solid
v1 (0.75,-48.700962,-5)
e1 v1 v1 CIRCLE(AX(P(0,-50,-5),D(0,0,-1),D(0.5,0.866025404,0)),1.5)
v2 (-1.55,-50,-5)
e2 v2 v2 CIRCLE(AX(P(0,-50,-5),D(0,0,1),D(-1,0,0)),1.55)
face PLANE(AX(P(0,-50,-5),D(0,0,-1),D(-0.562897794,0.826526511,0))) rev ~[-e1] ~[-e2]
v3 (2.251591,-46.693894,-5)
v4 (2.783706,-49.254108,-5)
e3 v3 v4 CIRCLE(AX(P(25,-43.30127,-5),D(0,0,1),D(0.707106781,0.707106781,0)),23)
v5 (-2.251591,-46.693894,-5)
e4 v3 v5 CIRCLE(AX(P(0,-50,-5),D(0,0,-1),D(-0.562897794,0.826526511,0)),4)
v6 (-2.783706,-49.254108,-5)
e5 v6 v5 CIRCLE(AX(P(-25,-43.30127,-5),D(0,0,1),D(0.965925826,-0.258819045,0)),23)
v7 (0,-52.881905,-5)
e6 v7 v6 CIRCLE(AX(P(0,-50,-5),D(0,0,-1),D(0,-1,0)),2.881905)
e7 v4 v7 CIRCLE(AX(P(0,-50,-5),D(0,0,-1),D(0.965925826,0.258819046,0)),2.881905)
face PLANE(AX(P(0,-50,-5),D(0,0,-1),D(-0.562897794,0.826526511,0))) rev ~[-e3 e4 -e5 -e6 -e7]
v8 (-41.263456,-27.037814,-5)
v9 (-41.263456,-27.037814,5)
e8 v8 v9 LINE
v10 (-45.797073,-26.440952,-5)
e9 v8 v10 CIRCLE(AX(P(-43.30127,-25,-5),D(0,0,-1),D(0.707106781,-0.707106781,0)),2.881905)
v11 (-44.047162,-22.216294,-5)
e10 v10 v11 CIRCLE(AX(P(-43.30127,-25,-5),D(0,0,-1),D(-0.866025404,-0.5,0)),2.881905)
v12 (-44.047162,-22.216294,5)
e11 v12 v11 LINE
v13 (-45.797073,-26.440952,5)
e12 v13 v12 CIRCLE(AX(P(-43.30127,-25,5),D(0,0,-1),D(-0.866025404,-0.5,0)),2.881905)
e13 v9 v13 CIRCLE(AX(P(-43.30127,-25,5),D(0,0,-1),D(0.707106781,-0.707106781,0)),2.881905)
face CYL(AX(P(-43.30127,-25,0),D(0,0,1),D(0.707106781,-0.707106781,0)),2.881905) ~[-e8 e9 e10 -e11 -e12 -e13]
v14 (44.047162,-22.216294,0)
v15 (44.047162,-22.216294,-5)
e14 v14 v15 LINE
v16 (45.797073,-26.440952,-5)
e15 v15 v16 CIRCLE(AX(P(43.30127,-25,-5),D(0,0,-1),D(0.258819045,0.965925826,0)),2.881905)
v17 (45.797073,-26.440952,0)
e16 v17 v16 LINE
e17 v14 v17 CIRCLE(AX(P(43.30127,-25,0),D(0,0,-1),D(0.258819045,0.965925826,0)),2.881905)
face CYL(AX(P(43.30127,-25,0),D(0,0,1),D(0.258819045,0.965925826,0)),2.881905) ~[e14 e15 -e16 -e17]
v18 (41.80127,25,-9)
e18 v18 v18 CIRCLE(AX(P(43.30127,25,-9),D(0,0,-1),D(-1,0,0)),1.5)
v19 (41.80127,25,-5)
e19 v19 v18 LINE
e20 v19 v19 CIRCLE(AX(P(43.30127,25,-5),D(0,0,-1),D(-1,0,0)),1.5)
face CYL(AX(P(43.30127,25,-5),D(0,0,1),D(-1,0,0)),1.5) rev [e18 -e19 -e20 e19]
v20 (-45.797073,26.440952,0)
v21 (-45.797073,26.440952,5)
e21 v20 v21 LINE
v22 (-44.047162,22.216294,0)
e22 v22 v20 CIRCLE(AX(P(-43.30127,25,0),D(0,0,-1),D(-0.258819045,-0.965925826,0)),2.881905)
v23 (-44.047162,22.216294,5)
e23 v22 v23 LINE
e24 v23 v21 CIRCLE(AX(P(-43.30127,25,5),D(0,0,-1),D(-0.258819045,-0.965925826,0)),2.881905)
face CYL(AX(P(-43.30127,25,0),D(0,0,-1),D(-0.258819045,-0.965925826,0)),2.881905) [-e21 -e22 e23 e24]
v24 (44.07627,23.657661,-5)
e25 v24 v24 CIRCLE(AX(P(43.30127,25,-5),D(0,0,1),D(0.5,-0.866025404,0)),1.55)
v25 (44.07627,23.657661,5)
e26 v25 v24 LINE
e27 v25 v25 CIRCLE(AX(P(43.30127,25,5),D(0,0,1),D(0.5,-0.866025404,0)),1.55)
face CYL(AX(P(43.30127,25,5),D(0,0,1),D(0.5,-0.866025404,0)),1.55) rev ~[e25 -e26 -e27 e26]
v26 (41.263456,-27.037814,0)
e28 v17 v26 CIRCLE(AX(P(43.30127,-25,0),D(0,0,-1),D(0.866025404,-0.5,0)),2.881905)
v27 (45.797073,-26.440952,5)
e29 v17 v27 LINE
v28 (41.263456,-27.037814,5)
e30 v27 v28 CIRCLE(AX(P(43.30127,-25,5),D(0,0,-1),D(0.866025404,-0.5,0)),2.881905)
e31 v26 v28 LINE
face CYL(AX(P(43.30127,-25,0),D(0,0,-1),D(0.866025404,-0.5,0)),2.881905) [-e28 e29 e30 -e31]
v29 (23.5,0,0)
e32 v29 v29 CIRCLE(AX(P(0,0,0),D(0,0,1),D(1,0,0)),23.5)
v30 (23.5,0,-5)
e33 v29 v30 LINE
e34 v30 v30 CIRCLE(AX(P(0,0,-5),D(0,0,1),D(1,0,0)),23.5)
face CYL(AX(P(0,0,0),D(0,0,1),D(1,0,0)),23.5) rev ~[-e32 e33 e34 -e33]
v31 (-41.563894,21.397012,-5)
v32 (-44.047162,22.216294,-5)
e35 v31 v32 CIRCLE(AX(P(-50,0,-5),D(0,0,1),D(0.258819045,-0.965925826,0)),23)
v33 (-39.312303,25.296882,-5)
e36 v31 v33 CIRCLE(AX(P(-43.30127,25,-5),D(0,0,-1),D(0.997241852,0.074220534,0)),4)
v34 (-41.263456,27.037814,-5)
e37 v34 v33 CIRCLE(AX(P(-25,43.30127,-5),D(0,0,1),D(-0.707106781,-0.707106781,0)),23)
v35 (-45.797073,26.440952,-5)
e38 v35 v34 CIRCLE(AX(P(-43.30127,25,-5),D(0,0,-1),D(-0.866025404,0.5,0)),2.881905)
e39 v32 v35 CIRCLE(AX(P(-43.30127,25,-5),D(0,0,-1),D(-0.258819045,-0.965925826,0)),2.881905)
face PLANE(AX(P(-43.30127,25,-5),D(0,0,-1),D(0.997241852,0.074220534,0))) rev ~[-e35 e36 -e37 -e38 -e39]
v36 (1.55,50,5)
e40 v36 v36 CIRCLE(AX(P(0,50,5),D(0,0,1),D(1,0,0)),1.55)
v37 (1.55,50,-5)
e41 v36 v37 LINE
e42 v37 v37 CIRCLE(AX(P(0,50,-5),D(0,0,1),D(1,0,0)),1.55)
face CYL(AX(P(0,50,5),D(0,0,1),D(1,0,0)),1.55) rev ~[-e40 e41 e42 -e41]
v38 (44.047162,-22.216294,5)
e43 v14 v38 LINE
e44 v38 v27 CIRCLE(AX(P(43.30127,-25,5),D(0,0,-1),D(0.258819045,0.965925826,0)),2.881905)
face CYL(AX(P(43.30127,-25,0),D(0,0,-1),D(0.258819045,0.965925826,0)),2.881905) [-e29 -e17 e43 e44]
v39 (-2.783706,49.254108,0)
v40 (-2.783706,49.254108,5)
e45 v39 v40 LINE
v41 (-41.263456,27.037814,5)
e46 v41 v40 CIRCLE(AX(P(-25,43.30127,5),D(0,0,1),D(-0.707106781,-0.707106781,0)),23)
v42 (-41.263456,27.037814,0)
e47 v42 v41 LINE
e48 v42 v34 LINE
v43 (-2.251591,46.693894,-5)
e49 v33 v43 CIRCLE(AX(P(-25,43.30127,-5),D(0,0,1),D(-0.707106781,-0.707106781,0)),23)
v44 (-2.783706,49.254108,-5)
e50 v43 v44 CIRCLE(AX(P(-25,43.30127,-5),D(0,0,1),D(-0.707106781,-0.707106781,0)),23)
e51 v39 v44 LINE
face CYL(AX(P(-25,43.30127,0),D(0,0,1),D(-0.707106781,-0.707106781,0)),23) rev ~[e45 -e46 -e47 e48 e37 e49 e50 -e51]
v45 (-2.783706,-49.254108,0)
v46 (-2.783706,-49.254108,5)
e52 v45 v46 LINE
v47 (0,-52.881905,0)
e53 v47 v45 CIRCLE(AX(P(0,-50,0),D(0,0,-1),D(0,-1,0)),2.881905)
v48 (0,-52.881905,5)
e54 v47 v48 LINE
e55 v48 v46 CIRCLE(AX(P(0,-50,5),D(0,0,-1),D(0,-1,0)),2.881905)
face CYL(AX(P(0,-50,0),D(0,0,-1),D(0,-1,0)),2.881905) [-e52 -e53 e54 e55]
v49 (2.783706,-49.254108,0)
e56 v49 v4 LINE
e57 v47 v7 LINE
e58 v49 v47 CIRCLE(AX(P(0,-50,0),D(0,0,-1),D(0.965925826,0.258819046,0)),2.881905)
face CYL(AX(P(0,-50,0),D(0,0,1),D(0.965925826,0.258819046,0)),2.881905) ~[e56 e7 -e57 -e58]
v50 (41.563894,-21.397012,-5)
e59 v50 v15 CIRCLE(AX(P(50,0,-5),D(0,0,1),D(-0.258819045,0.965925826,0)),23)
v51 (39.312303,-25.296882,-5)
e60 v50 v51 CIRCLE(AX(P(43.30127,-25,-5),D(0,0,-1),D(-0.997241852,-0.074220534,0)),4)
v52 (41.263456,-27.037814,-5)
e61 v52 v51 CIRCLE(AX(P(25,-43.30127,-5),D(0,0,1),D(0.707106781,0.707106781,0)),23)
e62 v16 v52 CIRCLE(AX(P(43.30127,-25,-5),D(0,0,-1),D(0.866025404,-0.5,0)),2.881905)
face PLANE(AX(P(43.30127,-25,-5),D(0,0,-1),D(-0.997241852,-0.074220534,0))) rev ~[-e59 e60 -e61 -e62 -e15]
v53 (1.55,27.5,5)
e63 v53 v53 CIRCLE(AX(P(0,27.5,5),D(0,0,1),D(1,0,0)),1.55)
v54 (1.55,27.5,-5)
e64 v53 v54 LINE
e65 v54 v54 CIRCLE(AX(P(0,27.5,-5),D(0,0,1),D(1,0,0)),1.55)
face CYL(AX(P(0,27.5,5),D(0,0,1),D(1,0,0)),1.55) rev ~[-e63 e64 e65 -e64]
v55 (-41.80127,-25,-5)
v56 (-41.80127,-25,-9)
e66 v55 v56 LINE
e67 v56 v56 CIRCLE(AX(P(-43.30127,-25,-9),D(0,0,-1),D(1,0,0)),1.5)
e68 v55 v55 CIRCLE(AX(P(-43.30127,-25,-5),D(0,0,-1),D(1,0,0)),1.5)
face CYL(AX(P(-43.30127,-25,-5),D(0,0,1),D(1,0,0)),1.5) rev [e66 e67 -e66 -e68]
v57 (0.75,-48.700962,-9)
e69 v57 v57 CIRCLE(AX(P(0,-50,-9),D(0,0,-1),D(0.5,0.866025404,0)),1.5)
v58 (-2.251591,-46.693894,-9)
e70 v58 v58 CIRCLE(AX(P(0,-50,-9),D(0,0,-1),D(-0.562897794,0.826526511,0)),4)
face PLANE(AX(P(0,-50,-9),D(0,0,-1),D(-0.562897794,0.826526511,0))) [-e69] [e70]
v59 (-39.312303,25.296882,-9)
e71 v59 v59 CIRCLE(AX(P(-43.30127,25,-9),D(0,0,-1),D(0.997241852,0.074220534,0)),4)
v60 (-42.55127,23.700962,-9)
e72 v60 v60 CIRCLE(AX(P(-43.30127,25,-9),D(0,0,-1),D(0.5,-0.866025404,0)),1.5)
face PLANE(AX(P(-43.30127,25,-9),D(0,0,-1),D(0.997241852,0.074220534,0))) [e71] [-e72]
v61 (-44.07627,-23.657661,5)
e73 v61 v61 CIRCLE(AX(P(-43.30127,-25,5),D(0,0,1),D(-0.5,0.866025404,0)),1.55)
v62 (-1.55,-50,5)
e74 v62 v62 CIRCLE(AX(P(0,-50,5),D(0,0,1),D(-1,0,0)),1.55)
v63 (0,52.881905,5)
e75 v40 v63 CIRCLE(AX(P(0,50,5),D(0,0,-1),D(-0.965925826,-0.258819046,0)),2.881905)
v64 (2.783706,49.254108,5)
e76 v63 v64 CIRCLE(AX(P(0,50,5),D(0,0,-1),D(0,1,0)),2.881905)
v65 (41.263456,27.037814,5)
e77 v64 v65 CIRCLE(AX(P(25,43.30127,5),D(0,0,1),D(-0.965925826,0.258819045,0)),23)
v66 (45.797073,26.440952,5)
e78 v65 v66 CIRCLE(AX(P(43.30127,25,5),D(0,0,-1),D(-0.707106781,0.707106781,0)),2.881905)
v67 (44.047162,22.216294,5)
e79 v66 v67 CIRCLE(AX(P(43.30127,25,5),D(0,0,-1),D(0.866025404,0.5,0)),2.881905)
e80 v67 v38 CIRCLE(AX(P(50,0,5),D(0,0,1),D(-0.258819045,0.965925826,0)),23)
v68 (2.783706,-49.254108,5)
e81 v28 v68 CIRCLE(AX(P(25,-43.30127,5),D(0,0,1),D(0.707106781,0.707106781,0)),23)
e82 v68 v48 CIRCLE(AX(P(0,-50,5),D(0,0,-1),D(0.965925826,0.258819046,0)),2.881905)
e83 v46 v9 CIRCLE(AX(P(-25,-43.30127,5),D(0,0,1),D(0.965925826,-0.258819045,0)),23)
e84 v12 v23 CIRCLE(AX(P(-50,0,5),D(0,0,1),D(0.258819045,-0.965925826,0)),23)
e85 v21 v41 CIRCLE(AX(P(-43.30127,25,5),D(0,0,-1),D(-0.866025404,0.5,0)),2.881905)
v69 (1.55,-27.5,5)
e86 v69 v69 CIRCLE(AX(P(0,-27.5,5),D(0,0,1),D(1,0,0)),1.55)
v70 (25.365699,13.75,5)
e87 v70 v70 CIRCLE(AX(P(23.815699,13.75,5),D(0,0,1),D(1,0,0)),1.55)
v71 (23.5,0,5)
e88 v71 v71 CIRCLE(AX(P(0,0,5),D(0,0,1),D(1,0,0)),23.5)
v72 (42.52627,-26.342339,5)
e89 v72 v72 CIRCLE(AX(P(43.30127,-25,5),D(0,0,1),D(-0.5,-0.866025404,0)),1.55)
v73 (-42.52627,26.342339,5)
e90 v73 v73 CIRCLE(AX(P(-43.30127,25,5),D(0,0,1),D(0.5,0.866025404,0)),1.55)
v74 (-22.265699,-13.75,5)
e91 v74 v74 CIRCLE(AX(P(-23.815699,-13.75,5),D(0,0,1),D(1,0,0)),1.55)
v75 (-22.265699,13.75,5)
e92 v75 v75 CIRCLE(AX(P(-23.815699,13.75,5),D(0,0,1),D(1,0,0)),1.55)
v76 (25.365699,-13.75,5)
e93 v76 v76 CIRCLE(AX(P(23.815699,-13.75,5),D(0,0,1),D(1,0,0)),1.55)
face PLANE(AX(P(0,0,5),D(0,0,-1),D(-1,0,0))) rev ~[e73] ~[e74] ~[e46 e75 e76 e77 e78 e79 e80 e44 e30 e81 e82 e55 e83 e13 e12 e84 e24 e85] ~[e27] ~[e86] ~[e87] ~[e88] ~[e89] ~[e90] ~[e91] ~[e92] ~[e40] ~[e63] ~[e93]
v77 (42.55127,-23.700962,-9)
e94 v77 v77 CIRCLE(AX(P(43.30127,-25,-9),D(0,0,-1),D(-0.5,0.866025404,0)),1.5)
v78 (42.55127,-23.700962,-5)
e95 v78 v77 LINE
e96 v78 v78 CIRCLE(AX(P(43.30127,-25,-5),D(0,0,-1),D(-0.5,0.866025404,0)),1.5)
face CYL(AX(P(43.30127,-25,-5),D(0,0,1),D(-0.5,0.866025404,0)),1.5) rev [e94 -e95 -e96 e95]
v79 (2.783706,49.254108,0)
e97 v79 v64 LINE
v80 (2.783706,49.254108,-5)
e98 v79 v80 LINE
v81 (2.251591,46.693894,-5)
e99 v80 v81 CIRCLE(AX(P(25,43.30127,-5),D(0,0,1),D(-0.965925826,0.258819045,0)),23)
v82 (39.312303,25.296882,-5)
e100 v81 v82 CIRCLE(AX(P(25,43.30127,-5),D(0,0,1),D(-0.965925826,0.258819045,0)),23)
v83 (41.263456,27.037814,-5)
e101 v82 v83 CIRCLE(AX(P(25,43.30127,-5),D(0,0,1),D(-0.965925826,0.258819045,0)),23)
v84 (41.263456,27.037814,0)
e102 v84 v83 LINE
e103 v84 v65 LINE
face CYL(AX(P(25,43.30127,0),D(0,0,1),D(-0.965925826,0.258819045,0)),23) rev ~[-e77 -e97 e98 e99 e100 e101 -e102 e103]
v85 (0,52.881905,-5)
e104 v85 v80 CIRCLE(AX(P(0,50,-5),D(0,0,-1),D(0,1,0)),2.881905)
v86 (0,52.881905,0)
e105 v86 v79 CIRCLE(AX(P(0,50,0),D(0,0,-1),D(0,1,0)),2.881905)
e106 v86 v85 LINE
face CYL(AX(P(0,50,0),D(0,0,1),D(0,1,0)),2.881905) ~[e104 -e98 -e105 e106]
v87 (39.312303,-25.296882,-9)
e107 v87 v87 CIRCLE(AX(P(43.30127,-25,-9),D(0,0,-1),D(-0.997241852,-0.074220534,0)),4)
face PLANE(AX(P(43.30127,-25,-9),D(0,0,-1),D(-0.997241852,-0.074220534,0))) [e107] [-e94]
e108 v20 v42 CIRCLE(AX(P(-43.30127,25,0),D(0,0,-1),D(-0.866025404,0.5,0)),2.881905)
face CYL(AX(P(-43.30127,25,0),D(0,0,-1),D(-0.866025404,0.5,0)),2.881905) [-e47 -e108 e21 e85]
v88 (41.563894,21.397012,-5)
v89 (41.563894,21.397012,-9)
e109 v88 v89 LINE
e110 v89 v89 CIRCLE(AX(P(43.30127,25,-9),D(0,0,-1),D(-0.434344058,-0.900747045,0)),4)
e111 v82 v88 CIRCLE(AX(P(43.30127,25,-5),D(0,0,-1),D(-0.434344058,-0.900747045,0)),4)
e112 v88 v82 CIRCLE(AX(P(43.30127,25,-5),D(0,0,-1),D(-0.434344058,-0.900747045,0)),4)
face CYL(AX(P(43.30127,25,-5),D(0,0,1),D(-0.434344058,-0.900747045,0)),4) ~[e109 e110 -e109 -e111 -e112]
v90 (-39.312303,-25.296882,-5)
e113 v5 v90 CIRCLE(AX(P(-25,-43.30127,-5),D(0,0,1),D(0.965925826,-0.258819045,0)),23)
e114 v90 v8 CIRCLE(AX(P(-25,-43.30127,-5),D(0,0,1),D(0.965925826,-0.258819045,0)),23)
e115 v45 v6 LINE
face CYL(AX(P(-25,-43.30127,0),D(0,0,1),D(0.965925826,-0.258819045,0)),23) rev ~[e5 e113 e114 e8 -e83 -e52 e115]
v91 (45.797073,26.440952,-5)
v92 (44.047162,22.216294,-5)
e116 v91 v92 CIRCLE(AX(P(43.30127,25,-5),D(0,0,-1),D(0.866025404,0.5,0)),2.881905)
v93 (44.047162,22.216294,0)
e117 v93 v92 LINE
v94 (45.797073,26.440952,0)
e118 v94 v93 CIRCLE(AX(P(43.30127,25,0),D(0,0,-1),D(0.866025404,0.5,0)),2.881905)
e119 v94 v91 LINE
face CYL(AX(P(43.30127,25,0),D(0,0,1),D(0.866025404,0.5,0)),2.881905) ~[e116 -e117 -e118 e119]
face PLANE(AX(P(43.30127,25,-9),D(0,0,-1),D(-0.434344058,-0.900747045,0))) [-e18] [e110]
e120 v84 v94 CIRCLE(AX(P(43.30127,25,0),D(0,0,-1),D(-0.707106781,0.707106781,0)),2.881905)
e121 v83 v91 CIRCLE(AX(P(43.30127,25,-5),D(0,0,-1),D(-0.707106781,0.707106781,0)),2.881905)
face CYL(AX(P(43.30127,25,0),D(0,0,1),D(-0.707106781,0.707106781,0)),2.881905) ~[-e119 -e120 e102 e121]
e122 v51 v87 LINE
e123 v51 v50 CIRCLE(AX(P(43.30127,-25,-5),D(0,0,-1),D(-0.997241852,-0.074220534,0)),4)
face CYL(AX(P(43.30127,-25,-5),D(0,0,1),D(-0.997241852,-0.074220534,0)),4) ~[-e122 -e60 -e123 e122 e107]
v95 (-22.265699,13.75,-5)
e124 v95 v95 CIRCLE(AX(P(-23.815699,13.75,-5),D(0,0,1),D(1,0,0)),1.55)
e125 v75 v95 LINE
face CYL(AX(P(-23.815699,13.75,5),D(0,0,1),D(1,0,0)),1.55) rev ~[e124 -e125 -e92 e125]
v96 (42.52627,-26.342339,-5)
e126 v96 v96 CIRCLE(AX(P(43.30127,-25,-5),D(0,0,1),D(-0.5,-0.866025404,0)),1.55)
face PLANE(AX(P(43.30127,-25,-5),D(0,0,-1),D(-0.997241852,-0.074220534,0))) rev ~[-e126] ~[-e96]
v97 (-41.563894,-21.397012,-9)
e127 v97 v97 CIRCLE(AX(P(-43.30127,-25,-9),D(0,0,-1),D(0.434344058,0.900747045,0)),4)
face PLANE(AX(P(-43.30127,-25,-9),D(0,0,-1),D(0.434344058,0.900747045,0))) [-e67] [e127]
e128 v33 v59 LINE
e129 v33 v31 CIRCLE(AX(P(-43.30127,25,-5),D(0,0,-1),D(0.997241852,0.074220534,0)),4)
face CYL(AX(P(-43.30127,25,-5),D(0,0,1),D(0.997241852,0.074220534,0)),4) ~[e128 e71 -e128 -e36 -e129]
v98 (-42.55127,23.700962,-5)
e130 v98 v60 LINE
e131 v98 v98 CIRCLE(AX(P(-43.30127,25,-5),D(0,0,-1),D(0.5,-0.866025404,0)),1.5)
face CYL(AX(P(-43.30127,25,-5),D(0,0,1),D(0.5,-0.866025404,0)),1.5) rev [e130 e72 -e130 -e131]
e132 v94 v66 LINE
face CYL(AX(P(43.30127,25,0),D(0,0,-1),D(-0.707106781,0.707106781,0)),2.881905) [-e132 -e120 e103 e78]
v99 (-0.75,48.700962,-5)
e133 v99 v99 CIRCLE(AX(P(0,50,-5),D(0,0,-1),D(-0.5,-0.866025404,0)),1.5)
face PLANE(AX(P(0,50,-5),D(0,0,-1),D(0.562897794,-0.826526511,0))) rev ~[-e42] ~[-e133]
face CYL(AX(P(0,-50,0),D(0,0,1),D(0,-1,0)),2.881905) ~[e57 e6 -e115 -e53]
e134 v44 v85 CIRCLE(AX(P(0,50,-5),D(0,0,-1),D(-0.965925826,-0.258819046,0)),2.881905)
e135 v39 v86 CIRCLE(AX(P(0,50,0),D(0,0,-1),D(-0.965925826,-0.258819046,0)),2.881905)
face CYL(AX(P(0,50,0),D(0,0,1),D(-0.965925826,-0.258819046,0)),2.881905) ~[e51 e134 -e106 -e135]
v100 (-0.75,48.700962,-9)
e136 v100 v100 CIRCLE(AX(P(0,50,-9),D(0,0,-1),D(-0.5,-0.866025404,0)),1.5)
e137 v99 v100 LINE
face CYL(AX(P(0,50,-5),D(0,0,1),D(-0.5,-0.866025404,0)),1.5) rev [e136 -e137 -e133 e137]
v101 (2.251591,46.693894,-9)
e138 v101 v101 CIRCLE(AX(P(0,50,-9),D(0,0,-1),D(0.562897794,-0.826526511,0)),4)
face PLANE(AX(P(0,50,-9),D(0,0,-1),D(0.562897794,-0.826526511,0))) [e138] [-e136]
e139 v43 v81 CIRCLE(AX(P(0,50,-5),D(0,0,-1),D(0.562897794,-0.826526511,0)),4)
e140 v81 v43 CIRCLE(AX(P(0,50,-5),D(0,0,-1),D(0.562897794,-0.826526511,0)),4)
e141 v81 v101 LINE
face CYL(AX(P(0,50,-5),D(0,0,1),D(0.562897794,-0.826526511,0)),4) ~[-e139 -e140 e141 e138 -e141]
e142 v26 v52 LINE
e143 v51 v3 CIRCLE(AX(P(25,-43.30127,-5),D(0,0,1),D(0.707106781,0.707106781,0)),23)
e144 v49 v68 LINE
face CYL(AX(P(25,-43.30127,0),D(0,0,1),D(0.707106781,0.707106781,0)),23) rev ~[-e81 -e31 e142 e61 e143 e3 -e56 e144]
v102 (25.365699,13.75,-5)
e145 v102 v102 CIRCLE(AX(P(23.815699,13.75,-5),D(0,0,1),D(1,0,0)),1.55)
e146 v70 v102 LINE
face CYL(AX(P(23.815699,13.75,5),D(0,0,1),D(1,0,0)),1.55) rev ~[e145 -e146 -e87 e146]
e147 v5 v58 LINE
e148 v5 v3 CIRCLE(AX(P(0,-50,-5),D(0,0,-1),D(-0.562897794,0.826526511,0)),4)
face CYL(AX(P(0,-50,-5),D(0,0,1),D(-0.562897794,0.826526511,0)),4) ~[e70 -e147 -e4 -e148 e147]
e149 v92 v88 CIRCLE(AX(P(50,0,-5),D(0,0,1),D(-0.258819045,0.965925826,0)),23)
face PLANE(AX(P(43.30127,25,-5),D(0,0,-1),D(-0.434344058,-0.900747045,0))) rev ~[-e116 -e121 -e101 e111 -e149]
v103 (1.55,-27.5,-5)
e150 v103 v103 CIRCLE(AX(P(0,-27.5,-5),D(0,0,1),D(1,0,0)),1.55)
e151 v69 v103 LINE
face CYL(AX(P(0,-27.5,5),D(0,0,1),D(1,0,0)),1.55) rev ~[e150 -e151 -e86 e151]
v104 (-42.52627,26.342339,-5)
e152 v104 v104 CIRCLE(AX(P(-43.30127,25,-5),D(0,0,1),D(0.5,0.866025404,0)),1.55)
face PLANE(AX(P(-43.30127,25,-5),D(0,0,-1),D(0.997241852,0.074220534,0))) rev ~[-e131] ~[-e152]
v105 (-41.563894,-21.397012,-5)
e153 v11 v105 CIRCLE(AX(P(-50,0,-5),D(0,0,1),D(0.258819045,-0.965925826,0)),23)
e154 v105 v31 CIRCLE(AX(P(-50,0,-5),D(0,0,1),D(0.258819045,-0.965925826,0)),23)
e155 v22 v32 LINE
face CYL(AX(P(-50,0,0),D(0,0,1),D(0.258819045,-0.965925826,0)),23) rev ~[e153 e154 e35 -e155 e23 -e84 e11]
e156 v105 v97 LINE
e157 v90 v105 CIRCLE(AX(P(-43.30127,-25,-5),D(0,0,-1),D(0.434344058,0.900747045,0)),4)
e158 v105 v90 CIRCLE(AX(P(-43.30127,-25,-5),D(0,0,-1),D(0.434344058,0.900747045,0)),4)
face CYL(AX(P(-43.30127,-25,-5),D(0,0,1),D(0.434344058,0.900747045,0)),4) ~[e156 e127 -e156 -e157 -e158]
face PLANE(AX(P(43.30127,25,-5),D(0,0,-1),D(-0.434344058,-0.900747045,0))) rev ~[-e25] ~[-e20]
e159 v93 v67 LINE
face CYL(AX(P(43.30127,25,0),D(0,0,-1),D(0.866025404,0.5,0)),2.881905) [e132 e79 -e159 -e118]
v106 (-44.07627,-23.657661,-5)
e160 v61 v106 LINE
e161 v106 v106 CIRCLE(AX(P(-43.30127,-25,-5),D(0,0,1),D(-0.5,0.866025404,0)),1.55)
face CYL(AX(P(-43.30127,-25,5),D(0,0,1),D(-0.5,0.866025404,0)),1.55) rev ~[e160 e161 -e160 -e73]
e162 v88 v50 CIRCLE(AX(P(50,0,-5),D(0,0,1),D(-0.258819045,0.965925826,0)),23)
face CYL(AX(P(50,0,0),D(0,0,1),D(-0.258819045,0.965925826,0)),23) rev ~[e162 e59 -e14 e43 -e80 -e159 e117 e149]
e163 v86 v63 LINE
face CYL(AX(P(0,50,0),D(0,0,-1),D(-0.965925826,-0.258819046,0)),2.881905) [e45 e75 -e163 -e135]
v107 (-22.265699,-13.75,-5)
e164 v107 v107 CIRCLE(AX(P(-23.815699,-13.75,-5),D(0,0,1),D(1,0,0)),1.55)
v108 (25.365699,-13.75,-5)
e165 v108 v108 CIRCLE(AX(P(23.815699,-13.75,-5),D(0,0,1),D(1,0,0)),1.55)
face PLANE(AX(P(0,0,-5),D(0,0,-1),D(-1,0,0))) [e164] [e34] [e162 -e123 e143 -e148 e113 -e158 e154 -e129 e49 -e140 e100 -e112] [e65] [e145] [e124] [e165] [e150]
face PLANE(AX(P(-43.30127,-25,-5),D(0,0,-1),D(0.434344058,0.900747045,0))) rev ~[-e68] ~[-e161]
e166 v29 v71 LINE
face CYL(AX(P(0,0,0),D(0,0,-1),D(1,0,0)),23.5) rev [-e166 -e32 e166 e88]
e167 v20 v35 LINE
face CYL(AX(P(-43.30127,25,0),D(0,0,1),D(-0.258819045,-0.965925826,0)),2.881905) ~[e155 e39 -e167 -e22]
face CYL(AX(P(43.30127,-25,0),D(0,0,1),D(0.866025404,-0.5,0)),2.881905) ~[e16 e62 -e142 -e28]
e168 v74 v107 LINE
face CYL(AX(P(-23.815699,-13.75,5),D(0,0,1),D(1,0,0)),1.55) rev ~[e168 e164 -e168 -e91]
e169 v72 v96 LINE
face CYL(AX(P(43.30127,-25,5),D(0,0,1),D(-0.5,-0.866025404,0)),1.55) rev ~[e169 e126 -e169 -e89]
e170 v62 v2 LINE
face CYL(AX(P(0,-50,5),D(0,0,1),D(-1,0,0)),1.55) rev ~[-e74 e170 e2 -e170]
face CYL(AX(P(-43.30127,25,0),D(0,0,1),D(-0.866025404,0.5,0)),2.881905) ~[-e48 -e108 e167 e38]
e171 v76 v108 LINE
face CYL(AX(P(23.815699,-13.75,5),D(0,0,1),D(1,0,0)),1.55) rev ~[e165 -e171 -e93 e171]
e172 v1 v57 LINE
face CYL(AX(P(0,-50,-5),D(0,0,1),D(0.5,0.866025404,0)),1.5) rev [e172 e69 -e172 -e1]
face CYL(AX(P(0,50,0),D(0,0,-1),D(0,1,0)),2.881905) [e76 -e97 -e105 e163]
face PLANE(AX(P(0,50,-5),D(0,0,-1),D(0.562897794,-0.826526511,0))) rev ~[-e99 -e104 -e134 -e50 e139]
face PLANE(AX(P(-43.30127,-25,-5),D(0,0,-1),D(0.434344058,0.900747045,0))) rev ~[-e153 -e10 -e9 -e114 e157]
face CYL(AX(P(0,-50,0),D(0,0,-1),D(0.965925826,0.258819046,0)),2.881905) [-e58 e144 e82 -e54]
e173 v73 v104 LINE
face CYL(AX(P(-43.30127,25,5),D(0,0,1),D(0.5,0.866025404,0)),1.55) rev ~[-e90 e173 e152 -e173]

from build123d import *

# Parameters (mm, degrees)
SKETCH_1_R               = 23.5
EXTRUDE_1_DEPTH          = 5
SKETCH_2_R               = 1.55
CUT_EXTRUDE_1_DEPTH      = 10
PATTERN_CIRCULAR_1_COUNT = 6
SKETCH_3_R               = 1.55
CUT_EXTRUDE_2_DEPTH      = 10
SKETCH_4_R               = 4
SKETCH_4_R_2             = 1.5
EXTRUDE_2_DEPTH          = 4
PATTERN_CIRCULAR_2_COUNT = 6


with BuildPart() as part:
    # 草图1 → 凸台-拉伸1 (new, symmetric)
    with BuildSketch(Plane.XY):
        with BuildLine():
            ThreePointArc((-44.047161963, -22.216294005), (-27, 0), (-44.047161963, 22.216294005))
            ThreePointArc((-44.047161963, 22.216294005), (-45.963802781, 23.89714289), (-45.797072706, 26.440952255))
            ThreePointArc((-45.797072706, 26.440952255), (-43.677434211, 27.857249418), (-41.263455967, 27.037814222))
            ThreePointArc((-41.263455967, 27.037814222), (-13.5, 23.382685902), (-2.783705995, 49.254108227))
            ThreePointArc((-2.783705995, 49.254108227), (-2.28636857, 51.754392308), (0, 52.88190451))
            ThreePointArc((0, 52.88190451), (2.28636857, 51.754392308), (2.783705995, 49.254108227))
            ThreePointArc((2.783705995, 49.254108227), (13.5, 23.382685902), (41.263455967, 27.037814222))
            ThreePointArc((41.263455967, 27.037814222), (43.677434211, 27.857249418), (45.797072706, 26.440952255))
            ThreePointArc((45.797072706, 26.440952255), (45.963802781, 23.89714289), (44.047161963, 22.216294005))
            ThreePointArc((44.047161963, 22.216294005), (27, 0), (44.047161963, -22.216294005))
            ThreePointArc((44.047161963, -22.216294005), (45.963802781, -23.89714289), (45.797072706, -26.440952255))
            ThreePointArc((45.797072706, -26.440952255), (43.677434211, -27.857249418), (41.263455967, -27.037814222))
            ThreePointArc((41.263455967, -27.037814222), (13.5, -23.382685902), (2.783705995, -49.254108227))
            ThreePointArc((2.783705995, -49.254108227), (2.28636857, -51.754392308), (0, -52.88190451))
            ThreePointArc((0, -52.88190451), (-2.28636857, -51.754392308), (-2.783705995, -49.254108227))
            ThreePointArc((-2.783705995, -49.254108227), (-13.5, -23.382685902), (-41.263455967, -27.037814222))
            ThreePointArc((-41.263455967, -27.037814222), (-43.677434211, -27.857249418), (-45.797072706, -26.440952255))
            ThreePointArc((-45.797072706, -26.440952255), (-45.963802781, -23.89714289), (-44.047161963, -22.216294005))
        make_face()
        Circle(SKETCH_1_R, mode=Mode.SUBTRACT)
    extrude(amount=EXTRUDE_1_DEPTH, both=True)

    # 草图2 → 切除-拉伸1 (cut)
    with BuildSketch(Plane.XY.offset(5)):
        with Locations((0, 50)):
            Circle(SKETCH_2_R)
    cut_extrude_1 = extrude(amount=-CUT_EXTRUDE_1_DEPTH, mode=Mode.SUBTRACT)

    # 阵列(圆周)1: 切除-拉伸1 ×6 about axis
    pattern_circular_1_axis = Axis((0, 0, 0), (0, 0, 1))
    for i in range(1, PATTERN_CIRCULAR_1_COUNT):
        add(cut_extrude_1.rotate(pattern_circular_1_axis, i * 360 / PATTERN_CIRCULAR_1_COUNT), mode=Mode.SUBTRACT)

    # 草图3 → 切除-拉伸2 (cut)
    with BuildSketch(Plane.XY.offset(5)):
        with Locations((0, 27.5)):
            Circle(SKETCH_3_R)
        with Locations((23.815698604, 13.75)):
            Circle(SKETCH_3_R)
        with Locations((23.815698604, -13.75)):
            Circle(SKETCH_3_R)
        with Locations((0, -27.5)):
            Circle(SKETCH_3_R)
        with Locations((-23.815698604, -13.75)):
            Circle(SKETCH_3_R)
        with Locations((-23.815698604, 13.75)):
            Circle(SKETCH_3_R)
    extrude(amount=-CUT_EXTRUDE_2_DEPTH, mode=Mode.SUBTRACT)

    # 草图4 → 凸台-拉伸2 (add)
    with BuildSketch(Plane(origin=(0, 0, -5), x_dir=(-1, 0, 0), z_dir=(0, 0, -1))):
        with Locations(Location((-43.301270189, 25, 0), (0, 0, 295.743562627))):
            Circle(SKETCH_4_R)
        with Locations((-43.301270189, 25)):
            Circle(SKETCH_4_R_2, mode=Mode.SUBTRACT)
    extrude_2 = extrude(amount=EXTRUDE_2_DEPTH)

    # 阵列(圆周)2: 凸台-拉伸2 ×6 about axis
    pattern_circular_2_axis = Axis((0, 0, 0), (0, 0, 1))
    for i in range(1, PATTERN_CIRCULAR_2_COUNT):
        add(extrude_2.rotate(pattern_circular_2_axis, i * 360 / PATTERN_CIRCULAR_2_COUNT))


solid = part.part
